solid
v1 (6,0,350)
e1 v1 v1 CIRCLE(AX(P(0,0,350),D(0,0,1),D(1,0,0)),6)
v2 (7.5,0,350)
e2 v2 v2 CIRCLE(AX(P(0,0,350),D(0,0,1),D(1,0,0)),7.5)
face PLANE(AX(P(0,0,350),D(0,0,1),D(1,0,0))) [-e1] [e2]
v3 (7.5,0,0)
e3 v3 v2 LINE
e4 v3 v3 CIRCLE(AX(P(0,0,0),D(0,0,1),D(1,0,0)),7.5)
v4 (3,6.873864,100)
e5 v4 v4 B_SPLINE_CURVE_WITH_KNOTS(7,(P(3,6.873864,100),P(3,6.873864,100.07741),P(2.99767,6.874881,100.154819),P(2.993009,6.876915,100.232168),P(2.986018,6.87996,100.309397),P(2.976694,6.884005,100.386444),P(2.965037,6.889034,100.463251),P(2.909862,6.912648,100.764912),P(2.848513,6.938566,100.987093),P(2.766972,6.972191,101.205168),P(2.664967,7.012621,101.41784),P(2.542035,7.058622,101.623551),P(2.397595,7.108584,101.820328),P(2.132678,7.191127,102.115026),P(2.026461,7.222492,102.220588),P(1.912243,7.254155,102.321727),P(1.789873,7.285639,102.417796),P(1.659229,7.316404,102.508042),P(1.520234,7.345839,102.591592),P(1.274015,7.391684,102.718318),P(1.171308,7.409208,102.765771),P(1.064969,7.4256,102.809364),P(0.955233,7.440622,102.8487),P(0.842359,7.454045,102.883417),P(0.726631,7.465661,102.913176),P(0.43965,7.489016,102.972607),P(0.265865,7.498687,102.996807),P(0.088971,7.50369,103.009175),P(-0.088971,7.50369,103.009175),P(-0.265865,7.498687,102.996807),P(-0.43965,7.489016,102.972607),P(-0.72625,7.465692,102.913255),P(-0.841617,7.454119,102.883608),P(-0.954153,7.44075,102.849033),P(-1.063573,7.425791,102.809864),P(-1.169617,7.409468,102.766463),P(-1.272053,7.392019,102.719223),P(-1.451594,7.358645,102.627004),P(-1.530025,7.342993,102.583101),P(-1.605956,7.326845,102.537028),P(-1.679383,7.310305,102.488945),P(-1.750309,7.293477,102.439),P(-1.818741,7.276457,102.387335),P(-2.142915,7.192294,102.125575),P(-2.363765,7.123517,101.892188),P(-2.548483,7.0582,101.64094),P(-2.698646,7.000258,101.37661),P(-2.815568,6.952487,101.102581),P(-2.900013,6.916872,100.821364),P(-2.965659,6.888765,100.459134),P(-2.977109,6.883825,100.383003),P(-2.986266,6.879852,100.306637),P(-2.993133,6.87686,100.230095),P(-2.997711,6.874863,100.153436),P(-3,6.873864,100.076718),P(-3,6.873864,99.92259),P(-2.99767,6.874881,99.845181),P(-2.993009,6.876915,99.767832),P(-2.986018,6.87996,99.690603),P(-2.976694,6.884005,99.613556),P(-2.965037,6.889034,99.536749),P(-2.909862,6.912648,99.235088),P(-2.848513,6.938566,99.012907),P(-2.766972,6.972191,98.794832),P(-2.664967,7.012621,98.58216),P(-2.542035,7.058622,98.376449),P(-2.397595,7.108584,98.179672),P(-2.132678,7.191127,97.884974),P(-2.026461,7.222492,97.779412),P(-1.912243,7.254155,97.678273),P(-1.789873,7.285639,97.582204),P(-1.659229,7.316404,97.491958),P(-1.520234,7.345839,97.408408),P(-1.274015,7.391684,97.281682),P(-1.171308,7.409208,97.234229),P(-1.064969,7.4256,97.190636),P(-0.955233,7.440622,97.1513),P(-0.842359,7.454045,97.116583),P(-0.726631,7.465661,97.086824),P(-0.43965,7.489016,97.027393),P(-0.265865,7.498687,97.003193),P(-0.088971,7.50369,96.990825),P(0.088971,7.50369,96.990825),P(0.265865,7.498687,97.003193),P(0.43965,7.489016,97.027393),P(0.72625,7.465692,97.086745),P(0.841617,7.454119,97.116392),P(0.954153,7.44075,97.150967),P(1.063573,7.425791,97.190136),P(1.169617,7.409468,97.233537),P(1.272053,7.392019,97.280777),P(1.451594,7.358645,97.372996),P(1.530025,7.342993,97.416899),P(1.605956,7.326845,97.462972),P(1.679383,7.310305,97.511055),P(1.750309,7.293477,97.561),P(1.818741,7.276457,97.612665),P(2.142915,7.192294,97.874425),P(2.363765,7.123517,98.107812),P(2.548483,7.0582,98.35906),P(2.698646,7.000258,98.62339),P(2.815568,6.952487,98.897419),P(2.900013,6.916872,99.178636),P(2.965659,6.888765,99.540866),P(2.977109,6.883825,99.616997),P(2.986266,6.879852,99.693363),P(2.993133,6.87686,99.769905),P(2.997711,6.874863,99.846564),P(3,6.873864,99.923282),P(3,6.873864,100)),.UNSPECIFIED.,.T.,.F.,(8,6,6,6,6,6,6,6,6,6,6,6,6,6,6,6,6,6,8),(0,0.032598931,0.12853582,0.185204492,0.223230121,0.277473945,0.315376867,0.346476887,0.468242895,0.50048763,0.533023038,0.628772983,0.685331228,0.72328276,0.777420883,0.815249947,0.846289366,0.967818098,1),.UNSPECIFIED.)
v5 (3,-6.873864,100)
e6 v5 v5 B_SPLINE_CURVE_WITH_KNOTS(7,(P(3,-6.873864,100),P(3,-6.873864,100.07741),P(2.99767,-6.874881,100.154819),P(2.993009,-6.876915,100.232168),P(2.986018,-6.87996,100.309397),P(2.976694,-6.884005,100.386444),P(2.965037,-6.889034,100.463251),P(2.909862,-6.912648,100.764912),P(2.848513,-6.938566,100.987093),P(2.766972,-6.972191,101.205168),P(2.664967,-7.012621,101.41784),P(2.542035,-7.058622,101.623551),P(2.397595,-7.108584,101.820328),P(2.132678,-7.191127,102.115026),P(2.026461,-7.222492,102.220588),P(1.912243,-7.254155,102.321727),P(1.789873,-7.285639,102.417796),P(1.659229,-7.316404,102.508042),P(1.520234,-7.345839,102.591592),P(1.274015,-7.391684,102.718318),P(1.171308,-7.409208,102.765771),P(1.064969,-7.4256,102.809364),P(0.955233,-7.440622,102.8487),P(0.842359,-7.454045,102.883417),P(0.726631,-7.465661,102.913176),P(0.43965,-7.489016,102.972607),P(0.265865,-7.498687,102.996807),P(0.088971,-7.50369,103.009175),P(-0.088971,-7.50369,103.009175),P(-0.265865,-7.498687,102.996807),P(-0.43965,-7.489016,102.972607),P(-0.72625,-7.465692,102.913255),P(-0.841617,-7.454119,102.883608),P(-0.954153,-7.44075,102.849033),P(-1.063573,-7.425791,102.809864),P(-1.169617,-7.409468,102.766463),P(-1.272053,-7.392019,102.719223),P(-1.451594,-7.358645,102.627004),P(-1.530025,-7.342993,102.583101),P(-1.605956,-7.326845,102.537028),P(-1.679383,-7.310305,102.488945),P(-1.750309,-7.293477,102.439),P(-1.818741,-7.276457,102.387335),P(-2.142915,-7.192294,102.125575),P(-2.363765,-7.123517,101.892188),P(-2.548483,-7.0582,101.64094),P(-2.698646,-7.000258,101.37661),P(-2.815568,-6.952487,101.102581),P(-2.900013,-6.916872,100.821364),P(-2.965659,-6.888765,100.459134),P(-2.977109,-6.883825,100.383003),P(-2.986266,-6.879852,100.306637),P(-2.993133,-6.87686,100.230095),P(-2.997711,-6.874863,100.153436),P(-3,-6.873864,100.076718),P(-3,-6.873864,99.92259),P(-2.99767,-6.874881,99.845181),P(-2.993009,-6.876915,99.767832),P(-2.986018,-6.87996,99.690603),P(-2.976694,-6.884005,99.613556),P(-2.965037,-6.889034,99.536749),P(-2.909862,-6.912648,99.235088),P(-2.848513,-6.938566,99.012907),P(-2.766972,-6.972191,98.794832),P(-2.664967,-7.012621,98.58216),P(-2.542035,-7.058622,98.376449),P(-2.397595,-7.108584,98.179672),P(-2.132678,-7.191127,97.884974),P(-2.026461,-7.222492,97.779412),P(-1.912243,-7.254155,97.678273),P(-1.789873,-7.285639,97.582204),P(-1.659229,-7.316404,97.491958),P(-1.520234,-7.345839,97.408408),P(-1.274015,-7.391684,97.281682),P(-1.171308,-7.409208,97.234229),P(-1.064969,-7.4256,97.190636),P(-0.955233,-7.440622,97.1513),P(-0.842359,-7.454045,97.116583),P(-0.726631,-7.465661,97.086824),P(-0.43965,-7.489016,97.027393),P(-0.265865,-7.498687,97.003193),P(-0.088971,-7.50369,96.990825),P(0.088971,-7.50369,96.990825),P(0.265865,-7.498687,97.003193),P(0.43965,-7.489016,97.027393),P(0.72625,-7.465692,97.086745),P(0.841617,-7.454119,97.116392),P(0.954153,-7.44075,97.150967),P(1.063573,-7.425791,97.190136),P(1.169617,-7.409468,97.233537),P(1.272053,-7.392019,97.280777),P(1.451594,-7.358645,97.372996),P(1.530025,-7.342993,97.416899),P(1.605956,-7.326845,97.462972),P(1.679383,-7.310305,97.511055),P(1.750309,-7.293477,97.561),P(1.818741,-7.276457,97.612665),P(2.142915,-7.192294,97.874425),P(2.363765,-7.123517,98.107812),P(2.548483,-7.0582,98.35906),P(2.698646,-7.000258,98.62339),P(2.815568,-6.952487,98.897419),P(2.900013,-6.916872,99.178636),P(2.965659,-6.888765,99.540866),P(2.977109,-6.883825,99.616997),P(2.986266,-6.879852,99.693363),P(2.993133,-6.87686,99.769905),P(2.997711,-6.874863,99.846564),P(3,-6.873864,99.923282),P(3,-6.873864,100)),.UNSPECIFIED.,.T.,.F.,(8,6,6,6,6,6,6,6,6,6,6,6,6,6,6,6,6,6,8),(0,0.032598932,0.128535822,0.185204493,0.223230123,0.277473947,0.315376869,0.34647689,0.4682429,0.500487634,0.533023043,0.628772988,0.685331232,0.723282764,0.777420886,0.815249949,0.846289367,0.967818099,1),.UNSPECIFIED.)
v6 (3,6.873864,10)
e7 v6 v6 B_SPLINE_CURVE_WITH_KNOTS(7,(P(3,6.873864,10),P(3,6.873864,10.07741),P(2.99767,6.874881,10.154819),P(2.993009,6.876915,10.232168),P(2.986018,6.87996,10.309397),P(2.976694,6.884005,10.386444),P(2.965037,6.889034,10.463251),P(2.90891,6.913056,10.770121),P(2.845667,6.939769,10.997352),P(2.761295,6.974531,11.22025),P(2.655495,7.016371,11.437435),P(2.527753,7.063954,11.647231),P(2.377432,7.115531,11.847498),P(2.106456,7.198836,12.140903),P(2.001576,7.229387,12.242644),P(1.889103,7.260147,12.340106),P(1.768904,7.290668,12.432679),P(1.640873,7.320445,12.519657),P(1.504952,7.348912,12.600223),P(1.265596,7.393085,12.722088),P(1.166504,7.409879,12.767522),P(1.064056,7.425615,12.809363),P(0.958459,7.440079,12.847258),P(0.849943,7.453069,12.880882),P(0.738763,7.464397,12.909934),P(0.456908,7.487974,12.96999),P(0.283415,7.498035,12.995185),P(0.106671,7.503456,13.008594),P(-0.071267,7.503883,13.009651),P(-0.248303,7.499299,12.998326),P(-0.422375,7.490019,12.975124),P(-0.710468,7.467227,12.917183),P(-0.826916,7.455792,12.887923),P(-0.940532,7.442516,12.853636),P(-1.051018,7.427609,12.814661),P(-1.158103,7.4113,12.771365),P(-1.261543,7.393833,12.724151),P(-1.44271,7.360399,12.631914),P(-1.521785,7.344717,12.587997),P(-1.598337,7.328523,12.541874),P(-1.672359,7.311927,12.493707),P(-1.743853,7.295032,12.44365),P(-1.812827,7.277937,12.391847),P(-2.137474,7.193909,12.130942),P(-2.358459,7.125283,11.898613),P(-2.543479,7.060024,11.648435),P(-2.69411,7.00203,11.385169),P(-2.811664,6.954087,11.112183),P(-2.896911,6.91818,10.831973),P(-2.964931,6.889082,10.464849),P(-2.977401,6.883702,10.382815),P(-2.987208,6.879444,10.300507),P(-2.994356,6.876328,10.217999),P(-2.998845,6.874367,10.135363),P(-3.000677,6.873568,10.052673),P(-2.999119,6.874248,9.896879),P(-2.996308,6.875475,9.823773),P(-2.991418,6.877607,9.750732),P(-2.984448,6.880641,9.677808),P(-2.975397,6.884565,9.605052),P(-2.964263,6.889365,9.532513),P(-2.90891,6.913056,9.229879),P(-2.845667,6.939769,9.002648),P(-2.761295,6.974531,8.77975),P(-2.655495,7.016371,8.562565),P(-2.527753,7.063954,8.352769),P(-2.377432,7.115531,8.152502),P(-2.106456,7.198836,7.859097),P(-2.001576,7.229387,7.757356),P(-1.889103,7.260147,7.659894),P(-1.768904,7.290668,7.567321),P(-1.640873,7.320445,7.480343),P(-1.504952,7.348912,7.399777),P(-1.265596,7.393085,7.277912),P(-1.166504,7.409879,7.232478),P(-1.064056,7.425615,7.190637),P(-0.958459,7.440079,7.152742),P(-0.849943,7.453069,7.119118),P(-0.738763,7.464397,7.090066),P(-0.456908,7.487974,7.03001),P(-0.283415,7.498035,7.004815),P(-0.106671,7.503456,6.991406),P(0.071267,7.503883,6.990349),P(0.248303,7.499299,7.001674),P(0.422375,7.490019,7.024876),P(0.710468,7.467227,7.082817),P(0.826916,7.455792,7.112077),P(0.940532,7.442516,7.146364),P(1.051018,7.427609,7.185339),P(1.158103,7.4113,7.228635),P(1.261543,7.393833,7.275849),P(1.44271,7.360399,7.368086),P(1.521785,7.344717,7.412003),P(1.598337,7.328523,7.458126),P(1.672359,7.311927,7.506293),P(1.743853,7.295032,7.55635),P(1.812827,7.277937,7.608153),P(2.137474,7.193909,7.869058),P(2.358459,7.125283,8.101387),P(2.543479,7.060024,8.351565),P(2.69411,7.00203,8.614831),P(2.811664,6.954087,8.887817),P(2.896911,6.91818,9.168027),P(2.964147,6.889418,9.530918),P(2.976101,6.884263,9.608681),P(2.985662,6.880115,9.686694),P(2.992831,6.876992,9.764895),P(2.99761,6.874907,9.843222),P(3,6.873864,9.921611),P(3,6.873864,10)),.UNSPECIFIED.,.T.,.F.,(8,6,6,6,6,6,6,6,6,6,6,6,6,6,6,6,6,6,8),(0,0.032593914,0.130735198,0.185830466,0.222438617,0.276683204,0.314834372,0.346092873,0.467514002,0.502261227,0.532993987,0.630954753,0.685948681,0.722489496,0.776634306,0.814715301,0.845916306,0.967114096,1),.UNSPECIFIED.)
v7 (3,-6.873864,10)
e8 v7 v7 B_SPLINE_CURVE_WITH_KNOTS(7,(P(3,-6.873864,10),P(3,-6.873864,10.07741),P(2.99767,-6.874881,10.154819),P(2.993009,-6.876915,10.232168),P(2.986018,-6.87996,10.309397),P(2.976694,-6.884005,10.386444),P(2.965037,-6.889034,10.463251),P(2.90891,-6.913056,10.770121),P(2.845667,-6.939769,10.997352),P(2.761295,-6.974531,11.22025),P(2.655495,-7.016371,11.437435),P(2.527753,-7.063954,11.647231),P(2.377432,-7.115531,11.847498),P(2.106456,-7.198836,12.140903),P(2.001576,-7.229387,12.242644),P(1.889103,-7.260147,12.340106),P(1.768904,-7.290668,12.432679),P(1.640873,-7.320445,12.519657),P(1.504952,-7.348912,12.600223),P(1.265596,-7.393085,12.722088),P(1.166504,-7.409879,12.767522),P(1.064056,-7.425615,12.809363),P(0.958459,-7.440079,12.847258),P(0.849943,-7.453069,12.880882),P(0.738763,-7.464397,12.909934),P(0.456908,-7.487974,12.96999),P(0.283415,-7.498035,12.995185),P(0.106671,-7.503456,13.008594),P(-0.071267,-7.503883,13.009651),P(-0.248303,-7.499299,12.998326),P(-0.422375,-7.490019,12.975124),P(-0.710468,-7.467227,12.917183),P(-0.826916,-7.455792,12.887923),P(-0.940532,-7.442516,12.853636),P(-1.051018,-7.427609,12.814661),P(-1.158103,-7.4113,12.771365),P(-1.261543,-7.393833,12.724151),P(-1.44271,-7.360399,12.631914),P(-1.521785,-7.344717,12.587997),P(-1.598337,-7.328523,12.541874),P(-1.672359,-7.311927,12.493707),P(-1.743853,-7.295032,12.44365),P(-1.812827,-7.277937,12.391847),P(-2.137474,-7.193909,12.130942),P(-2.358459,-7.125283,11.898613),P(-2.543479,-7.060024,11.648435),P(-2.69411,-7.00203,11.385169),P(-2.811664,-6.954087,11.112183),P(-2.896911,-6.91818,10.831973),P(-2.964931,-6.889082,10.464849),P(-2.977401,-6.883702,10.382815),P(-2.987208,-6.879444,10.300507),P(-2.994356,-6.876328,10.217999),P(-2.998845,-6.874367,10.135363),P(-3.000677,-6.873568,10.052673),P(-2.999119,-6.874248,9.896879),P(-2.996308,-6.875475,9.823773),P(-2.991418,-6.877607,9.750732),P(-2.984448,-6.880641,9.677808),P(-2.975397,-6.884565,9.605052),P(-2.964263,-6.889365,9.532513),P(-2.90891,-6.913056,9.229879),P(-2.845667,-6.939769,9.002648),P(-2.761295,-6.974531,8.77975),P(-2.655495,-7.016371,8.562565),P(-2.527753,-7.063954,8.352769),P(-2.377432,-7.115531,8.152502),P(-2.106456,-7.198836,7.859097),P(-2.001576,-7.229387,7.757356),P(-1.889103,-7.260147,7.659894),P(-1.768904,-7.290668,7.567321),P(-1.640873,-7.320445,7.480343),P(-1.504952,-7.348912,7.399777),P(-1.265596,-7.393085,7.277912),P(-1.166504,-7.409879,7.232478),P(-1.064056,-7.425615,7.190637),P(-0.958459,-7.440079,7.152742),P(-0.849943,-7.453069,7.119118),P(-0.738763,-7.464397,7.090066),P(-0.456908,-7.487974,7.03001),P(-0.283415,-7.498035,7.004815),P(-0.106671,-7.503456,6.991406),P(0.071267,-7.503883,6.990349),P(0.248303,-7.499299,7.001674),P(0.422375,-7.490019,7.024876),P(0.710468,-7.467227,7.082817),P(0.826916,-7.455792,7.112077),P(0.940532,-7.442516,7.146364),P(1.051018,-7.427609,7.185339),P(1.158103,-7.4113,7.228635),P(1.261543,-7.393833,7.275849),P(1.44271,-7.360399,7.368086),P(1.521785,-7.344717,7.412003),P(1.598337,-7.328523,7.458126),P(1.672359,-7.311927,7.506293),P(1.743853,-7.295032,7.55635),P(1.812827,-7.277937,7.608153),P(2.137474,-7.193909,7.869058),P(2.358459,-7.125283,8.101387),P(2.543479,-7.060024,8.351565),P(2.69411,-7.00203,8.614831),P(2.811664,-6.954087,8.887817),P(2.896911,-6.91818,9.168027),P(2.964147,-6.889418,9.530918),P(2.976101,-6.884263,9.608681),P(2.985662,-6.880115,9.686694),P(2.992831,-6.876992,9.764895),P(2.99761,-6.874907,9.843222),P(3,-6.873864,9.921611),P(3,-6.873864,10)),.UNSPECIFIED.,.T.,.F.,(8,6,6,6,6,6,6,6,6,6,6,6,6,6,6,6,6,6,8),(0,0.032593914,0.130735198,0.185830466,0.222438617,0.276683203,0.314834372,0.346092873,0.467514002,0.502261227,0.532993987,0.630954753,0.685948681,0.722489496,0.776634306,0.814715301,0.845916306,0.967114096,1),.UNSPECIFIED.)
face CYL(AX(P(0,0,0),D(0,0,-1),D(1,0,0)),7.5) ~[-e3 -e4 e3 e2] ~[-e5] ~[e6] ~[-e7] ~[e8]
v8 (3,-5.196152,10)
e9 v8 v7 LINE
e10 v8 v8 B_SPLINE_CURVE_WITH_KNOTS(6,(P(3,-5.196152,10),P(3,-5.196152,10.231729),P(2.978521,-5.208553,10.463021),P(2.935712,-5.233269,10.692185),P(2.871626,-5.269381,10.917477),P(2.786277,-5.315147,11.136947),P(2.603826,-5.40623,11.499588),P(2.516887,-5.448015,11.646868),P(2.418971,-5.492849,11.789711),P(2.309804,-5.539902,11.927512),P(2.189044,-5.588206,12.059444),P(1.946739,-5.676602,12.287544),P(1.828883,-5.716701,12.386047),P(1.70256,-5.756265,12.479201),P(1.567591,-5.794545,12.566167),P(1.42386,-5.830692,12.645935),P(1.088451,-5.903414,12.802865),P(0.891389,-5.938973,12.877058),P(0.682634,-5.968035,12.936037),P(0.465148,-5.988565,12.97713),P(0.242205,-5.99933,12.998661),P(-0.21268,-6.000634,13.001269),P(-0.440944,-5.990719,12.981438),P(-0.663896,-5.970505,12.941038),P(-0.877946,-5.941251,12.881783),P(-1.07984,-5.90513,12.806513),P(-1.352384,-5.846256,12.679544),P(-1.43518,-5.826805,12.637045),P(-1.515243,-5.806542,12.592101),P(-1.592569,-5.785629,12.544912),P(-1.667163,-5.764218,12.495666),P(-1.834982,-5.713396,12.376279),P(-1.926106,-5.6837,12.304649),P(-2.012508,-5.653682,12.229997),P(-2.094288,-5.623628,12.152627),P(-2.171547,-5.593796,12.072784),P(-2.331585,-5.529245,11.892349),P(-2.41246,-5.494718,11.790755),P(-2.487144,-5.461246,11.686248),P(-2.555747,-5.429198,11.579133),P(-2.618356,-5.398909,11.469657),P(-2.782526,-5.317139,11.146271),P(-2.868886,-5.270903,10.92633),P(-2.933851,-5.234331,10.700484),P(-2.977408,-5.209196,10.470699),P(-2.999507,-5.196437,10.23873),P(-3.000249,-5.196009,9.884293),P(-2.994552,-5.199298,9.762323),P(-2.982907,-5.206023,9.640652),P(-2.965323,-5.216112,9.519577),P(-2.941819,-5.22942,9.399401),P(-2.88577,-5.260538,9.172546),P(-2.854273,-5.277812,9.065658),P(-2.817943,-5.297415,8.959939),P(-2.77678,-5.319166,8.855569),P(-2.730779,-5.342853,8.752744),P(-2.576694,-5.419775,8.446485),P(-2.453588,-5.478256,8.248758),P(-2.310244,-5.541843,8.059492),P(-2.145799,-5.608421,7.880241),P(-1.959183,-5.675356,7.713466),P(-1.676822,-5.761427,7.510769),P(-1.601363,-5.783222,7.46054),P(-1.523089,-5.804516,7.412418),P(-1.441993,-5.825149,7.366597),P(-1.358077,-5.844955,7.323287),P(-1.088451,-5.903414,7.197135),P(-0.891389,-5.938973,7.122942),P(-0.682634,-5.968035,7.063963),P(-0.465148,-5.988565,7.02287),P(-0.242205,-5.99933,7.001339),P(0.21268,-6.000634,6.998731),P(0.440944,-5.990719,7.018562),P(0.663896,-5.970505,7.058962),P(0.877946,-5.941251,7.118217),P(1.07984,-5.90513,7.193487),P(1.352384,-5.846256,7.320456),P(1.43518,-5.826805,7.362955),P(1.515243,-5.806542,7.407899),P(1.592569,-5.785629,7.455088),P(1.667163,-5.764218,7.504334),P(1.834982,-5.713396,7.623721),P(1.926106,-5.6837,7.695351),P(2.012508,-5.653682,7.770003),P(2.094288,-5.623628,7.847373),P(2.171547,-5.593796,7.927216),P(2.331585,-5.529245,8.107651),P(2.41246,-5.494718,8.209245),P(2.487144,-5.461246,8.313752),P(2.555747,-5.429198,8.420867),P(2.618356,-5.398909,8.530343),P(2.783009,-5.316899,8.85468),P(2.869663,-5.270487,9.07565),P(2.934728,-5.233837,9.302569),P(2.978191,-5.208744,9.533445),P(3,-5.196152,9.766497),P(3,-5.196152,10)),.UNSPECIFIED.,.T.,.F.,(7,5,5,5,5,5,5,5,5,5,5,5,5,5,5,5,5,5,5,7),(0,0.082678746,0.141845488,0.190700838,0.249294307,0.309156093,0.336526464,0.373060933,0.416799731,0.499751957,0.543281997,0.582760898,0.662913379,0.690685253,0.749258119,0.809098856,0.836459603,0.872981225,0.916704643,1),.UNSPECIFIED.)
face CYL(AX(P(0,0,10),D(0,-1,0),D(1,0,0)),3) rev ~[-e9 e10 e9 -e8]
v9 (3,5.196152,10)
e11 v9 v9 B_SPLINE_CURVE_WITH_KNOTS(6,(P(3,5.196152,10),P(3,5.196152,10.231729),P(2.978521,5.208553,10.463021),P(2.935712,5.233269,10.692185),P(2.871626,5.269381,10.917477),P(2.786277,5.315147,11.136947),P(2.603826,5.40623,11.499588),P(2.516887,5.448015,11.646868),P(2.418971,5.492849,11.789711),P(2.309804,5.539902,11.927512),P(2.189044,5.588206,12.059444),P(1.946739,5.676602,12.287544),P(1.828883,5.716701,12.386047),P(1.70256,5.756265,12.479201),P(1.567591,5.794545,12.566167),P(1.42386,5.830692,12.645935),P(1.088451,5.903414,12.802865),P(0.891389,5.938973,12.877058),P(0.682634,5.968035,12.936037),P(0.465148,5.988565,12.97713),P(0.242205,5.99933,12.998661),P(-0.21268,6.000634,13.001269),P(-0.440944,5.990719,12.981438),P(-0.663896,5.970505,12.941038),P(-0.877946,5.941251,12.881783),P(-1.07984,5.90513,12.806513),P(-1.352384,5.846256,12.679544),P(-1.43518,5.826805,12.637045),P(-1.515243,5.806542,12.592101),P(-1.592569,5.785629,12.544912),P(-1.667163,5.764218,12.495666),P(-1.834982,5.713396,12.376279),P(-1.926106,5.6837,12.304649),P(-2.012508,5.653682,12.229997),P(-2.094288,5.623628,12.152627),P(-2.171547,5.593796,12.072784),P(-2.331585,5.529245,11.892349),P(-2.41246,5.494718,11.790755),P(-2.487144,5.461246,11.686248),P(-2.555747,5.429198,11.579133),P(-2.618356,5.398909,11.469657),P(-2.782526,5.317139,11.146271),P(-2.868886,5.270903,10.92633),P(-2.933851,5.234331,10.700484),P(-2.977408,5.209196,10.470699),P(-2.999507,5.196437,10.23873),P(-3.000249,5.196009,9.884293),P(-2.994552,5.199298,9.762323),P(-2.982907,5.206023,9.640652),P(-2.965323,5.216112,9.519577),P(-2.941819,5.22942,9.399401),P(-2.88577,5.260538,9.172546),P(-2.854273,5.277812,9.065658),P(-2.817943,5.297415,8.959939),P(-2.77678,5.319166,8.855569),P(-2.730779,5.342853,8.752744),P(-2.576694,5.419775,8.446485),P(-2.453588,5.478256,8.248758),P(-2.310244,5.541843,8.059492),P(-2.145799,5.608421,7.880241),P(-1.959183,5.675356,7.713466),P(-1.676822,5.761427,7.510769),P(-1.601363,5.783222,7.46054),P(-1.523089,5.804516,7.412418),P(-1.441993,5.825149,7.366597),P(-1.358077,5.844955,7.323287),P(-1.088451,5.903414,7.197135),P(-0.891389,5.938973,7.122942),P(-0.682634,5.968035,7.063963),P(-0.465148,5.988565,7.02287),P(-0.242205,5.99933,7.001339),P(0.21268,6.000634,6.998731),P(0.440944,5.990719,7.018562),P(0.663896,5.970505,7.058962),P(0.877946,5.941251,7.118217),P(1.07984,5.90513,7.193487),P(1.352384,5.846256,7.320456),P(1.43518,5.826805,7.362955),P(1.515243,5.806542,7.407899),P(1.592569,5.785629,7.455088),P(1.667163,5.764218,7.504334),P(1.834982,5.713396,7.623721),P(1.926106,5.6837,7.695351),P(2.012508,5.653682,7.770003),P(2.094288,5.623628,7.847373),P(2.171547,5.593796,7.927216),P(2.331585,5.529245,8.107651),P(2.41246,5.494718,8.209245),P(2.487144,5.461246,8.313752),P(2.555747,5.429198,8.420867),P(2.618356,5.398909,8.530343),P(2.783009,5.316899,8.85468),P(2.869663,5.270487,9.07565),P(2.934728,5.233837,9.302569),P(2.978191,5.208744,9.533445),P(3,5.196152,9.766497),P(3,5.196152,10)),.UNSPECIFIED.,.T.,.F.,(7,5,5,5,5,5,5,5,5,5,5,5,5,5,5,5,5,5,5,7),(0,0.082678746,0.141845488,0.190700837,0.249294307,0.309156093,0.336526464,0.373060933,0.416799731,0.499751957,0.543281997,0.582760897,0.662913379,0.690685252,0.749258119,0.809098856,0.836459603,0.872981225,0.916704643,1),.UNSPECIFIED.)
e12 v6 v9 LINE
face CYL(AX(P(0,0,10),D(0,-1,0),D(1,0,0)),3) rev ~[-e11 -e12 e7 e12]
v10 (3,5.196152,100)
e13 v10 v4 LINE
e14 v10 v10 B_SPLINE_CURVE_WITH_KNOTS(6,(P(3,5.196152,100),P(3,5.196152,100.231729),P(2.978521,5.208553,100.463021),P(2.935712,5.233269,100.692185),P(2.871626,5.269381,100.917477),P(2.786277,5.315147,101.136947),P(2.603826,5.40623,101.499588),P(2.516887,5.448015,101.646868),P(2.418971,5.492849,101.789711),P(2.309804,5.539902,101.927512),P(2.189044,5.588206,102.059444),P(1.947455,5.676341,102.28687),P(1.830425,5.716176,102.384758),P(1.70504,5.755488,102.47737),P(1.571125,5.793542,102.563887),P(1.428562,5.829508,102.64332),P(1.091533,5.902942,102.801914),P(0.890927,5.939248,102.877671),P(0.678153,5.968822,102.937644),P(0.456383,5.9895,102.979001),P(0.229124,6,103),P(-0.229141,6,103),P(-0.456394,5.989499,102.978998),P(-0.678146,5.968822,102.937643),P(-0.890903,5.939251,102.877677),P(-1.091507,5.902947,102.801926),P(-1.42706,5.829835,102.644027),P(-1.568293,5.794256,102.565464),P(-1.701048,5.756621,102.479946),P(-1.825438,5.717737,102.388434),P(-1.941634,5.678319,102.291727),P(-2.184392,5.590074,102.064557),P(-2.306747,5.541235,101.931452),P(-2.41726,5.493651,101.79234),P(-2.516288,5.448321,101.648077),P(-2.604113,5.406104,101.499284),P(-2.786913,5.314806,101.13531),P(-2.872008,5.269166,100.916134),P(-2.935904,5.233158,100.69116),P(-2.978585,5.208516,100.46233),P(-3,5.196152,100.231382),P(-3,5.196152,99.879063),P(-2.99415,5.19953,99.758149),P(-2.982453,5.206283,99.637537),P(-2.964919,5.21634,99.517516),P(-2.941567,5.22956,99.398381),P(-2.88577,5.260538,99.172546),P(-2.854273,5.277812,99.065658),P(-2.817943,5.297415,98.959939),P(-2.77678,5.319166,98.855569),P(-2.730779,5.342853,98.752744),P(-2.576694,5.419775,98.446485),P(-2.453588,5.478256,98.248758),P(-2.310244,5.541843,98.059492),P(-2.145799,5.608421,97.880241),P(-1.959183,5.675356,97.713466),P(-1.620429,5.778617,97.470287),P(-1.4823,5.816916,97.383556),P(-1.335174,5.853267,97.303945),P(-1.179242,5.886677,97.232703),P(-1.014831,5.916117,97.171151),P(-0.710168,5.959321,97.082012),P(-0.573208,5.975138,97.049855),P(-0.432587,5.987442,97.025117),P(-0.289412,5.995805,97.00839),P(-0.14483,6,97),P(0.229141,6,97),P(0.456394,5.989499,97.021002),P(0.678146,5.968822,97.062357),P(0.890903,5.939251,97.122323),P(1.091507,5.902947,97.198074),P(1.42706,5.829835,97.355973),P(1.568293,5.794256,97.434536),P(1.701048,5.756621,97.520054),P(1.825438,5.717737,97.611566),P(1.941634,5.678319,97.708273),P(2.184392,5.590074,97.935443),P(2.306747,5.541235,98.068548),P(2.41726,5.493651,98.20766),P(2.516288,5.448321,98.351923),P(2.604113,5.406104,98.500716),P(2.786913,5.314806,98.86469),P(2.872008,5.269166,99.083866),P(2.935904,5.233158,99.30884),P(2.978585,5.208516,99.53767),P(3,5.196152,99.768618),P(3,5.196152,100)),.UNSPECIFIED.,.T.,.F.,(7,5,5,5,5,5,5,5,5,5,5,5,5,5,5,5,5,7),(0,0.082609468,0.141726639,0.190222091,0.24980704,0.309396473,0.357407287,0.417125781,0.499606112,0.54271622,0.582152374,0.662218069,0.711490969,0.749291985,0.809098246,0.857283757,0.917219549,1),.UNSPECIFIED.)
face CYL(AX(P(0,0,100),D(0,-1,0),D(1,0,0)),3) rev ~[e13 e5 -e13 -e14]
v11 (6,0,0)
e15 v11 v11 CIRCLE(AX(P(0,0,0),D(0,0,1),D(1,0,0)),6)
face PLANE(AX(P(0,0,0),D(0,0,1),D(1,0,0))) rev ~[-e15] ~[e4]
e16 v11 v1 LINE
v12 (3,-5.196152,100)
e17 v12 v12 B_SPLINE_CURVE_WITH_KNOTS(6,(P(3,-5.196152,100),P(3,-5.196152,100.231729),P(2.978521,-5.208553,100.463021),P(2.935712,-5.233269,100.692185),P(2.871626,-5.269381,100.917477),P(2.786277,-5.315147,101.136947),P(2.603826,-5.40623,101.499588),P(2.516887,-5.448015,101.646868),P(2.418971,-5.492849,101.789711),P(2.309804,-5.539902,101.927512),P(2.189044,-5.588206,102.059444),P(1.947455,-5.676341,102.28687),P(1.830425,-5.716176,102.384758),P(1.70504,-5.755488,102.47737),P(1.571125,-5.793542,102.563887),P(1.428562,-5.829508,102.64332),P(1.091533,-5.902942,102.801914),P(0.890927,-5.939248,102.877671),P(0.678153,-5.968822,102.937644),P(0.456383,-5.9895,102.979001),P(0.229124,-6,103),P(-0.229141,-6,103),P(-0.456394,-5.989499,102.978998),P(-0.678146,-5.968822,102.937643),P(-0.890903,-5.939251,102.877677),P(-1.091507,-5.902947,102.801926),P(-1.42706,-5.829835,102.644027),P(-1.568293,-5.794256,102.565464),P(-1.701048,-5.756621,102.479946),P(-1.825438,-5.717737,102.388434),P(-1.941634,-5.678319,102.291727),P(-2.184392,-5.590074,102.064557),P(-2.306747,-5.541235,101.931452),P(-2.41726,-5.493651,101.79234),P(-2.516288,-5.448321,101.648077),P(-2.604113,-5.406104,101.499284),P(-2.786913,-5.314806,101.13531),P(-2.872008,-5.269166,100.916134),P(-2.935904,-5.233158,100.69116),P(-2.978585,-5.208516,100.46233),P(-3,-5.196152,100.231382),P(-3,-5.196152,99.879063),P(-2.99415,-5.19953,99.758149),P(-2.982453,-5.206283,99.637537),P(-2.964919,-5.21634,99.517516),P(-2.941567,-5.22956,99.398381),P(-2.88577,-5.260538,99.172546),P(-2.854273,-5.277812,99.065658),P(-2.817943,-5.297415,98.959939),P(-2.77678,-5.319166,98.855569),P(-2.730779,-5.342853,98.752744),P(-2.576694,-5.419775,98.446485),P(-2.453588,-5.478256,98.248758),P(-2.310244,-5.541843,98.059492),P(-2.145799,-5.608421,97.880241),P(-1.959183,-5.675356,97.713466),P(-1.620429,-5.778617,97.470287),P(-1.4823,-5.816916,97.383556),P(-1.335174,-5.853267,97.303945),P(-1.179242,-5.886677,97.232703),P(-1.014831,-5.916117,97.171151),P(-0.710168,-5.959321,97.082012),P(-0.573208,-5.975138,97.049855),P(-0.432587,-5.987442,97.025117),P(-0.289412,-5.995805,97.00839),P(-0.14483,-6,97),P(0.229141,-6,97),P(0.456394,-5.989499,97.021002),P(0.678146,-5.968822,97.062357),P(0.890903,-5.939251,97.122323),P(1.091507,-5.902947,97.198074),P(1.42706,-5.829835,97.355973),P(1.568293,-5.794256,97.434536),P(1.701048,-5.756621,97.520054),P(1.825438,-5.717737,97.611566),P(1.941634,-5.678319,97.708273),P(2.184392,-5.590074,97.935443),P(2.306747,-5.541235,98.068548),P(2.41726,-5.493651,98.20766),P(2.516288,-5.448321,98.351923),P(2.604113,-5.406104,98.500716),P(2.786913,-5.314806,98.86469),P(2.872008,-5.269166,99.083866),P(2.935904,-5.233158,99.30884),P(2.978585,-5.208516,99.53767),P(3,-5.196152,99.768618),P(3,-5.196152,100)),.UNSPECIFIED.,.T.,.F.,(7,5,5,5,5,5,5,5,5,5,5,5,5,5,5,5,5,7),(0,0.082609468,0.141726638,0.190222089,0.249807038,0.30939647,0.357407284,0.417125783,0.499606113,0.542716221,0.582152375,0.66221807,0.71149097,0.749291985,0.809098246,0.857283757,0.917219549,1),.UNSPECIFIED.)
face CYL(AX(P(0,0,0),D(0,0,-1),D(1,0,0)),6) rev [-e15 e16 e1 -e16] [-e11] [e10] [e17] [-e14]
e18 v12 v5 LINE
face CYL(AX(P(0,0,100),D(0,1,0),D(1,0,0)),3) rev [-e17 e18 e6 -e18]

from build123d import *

# Parameters (mm, degrees)
F0_R     = 7.5
F0_R_2   = 6
F1_DEPTH = 350
F2_R     = 3
F3_DEPTH = 12.5


with BuildPart() as f1:
    # F0 (on Top) → F1 (new body)
    with BuildSketch(Plane.XY):
        Circle(F0_R)
        Circle(F0_R_2, mode=Mode.SUBTRACT)
    extrude(amount=F1_DEPTH)

    # F2 (on Front) → F3 (cut, symmetric)
    with BuildSketch(Plane.XZ):
        with Locations((0, 100)):
            Circle(F2_R)
        with Locations((0, 10)):
            Circle(F2_R)
    extrude(amount=F3_DEPTH, both=True, mode=Mode.SUBTRACT)


solid = f1.part
